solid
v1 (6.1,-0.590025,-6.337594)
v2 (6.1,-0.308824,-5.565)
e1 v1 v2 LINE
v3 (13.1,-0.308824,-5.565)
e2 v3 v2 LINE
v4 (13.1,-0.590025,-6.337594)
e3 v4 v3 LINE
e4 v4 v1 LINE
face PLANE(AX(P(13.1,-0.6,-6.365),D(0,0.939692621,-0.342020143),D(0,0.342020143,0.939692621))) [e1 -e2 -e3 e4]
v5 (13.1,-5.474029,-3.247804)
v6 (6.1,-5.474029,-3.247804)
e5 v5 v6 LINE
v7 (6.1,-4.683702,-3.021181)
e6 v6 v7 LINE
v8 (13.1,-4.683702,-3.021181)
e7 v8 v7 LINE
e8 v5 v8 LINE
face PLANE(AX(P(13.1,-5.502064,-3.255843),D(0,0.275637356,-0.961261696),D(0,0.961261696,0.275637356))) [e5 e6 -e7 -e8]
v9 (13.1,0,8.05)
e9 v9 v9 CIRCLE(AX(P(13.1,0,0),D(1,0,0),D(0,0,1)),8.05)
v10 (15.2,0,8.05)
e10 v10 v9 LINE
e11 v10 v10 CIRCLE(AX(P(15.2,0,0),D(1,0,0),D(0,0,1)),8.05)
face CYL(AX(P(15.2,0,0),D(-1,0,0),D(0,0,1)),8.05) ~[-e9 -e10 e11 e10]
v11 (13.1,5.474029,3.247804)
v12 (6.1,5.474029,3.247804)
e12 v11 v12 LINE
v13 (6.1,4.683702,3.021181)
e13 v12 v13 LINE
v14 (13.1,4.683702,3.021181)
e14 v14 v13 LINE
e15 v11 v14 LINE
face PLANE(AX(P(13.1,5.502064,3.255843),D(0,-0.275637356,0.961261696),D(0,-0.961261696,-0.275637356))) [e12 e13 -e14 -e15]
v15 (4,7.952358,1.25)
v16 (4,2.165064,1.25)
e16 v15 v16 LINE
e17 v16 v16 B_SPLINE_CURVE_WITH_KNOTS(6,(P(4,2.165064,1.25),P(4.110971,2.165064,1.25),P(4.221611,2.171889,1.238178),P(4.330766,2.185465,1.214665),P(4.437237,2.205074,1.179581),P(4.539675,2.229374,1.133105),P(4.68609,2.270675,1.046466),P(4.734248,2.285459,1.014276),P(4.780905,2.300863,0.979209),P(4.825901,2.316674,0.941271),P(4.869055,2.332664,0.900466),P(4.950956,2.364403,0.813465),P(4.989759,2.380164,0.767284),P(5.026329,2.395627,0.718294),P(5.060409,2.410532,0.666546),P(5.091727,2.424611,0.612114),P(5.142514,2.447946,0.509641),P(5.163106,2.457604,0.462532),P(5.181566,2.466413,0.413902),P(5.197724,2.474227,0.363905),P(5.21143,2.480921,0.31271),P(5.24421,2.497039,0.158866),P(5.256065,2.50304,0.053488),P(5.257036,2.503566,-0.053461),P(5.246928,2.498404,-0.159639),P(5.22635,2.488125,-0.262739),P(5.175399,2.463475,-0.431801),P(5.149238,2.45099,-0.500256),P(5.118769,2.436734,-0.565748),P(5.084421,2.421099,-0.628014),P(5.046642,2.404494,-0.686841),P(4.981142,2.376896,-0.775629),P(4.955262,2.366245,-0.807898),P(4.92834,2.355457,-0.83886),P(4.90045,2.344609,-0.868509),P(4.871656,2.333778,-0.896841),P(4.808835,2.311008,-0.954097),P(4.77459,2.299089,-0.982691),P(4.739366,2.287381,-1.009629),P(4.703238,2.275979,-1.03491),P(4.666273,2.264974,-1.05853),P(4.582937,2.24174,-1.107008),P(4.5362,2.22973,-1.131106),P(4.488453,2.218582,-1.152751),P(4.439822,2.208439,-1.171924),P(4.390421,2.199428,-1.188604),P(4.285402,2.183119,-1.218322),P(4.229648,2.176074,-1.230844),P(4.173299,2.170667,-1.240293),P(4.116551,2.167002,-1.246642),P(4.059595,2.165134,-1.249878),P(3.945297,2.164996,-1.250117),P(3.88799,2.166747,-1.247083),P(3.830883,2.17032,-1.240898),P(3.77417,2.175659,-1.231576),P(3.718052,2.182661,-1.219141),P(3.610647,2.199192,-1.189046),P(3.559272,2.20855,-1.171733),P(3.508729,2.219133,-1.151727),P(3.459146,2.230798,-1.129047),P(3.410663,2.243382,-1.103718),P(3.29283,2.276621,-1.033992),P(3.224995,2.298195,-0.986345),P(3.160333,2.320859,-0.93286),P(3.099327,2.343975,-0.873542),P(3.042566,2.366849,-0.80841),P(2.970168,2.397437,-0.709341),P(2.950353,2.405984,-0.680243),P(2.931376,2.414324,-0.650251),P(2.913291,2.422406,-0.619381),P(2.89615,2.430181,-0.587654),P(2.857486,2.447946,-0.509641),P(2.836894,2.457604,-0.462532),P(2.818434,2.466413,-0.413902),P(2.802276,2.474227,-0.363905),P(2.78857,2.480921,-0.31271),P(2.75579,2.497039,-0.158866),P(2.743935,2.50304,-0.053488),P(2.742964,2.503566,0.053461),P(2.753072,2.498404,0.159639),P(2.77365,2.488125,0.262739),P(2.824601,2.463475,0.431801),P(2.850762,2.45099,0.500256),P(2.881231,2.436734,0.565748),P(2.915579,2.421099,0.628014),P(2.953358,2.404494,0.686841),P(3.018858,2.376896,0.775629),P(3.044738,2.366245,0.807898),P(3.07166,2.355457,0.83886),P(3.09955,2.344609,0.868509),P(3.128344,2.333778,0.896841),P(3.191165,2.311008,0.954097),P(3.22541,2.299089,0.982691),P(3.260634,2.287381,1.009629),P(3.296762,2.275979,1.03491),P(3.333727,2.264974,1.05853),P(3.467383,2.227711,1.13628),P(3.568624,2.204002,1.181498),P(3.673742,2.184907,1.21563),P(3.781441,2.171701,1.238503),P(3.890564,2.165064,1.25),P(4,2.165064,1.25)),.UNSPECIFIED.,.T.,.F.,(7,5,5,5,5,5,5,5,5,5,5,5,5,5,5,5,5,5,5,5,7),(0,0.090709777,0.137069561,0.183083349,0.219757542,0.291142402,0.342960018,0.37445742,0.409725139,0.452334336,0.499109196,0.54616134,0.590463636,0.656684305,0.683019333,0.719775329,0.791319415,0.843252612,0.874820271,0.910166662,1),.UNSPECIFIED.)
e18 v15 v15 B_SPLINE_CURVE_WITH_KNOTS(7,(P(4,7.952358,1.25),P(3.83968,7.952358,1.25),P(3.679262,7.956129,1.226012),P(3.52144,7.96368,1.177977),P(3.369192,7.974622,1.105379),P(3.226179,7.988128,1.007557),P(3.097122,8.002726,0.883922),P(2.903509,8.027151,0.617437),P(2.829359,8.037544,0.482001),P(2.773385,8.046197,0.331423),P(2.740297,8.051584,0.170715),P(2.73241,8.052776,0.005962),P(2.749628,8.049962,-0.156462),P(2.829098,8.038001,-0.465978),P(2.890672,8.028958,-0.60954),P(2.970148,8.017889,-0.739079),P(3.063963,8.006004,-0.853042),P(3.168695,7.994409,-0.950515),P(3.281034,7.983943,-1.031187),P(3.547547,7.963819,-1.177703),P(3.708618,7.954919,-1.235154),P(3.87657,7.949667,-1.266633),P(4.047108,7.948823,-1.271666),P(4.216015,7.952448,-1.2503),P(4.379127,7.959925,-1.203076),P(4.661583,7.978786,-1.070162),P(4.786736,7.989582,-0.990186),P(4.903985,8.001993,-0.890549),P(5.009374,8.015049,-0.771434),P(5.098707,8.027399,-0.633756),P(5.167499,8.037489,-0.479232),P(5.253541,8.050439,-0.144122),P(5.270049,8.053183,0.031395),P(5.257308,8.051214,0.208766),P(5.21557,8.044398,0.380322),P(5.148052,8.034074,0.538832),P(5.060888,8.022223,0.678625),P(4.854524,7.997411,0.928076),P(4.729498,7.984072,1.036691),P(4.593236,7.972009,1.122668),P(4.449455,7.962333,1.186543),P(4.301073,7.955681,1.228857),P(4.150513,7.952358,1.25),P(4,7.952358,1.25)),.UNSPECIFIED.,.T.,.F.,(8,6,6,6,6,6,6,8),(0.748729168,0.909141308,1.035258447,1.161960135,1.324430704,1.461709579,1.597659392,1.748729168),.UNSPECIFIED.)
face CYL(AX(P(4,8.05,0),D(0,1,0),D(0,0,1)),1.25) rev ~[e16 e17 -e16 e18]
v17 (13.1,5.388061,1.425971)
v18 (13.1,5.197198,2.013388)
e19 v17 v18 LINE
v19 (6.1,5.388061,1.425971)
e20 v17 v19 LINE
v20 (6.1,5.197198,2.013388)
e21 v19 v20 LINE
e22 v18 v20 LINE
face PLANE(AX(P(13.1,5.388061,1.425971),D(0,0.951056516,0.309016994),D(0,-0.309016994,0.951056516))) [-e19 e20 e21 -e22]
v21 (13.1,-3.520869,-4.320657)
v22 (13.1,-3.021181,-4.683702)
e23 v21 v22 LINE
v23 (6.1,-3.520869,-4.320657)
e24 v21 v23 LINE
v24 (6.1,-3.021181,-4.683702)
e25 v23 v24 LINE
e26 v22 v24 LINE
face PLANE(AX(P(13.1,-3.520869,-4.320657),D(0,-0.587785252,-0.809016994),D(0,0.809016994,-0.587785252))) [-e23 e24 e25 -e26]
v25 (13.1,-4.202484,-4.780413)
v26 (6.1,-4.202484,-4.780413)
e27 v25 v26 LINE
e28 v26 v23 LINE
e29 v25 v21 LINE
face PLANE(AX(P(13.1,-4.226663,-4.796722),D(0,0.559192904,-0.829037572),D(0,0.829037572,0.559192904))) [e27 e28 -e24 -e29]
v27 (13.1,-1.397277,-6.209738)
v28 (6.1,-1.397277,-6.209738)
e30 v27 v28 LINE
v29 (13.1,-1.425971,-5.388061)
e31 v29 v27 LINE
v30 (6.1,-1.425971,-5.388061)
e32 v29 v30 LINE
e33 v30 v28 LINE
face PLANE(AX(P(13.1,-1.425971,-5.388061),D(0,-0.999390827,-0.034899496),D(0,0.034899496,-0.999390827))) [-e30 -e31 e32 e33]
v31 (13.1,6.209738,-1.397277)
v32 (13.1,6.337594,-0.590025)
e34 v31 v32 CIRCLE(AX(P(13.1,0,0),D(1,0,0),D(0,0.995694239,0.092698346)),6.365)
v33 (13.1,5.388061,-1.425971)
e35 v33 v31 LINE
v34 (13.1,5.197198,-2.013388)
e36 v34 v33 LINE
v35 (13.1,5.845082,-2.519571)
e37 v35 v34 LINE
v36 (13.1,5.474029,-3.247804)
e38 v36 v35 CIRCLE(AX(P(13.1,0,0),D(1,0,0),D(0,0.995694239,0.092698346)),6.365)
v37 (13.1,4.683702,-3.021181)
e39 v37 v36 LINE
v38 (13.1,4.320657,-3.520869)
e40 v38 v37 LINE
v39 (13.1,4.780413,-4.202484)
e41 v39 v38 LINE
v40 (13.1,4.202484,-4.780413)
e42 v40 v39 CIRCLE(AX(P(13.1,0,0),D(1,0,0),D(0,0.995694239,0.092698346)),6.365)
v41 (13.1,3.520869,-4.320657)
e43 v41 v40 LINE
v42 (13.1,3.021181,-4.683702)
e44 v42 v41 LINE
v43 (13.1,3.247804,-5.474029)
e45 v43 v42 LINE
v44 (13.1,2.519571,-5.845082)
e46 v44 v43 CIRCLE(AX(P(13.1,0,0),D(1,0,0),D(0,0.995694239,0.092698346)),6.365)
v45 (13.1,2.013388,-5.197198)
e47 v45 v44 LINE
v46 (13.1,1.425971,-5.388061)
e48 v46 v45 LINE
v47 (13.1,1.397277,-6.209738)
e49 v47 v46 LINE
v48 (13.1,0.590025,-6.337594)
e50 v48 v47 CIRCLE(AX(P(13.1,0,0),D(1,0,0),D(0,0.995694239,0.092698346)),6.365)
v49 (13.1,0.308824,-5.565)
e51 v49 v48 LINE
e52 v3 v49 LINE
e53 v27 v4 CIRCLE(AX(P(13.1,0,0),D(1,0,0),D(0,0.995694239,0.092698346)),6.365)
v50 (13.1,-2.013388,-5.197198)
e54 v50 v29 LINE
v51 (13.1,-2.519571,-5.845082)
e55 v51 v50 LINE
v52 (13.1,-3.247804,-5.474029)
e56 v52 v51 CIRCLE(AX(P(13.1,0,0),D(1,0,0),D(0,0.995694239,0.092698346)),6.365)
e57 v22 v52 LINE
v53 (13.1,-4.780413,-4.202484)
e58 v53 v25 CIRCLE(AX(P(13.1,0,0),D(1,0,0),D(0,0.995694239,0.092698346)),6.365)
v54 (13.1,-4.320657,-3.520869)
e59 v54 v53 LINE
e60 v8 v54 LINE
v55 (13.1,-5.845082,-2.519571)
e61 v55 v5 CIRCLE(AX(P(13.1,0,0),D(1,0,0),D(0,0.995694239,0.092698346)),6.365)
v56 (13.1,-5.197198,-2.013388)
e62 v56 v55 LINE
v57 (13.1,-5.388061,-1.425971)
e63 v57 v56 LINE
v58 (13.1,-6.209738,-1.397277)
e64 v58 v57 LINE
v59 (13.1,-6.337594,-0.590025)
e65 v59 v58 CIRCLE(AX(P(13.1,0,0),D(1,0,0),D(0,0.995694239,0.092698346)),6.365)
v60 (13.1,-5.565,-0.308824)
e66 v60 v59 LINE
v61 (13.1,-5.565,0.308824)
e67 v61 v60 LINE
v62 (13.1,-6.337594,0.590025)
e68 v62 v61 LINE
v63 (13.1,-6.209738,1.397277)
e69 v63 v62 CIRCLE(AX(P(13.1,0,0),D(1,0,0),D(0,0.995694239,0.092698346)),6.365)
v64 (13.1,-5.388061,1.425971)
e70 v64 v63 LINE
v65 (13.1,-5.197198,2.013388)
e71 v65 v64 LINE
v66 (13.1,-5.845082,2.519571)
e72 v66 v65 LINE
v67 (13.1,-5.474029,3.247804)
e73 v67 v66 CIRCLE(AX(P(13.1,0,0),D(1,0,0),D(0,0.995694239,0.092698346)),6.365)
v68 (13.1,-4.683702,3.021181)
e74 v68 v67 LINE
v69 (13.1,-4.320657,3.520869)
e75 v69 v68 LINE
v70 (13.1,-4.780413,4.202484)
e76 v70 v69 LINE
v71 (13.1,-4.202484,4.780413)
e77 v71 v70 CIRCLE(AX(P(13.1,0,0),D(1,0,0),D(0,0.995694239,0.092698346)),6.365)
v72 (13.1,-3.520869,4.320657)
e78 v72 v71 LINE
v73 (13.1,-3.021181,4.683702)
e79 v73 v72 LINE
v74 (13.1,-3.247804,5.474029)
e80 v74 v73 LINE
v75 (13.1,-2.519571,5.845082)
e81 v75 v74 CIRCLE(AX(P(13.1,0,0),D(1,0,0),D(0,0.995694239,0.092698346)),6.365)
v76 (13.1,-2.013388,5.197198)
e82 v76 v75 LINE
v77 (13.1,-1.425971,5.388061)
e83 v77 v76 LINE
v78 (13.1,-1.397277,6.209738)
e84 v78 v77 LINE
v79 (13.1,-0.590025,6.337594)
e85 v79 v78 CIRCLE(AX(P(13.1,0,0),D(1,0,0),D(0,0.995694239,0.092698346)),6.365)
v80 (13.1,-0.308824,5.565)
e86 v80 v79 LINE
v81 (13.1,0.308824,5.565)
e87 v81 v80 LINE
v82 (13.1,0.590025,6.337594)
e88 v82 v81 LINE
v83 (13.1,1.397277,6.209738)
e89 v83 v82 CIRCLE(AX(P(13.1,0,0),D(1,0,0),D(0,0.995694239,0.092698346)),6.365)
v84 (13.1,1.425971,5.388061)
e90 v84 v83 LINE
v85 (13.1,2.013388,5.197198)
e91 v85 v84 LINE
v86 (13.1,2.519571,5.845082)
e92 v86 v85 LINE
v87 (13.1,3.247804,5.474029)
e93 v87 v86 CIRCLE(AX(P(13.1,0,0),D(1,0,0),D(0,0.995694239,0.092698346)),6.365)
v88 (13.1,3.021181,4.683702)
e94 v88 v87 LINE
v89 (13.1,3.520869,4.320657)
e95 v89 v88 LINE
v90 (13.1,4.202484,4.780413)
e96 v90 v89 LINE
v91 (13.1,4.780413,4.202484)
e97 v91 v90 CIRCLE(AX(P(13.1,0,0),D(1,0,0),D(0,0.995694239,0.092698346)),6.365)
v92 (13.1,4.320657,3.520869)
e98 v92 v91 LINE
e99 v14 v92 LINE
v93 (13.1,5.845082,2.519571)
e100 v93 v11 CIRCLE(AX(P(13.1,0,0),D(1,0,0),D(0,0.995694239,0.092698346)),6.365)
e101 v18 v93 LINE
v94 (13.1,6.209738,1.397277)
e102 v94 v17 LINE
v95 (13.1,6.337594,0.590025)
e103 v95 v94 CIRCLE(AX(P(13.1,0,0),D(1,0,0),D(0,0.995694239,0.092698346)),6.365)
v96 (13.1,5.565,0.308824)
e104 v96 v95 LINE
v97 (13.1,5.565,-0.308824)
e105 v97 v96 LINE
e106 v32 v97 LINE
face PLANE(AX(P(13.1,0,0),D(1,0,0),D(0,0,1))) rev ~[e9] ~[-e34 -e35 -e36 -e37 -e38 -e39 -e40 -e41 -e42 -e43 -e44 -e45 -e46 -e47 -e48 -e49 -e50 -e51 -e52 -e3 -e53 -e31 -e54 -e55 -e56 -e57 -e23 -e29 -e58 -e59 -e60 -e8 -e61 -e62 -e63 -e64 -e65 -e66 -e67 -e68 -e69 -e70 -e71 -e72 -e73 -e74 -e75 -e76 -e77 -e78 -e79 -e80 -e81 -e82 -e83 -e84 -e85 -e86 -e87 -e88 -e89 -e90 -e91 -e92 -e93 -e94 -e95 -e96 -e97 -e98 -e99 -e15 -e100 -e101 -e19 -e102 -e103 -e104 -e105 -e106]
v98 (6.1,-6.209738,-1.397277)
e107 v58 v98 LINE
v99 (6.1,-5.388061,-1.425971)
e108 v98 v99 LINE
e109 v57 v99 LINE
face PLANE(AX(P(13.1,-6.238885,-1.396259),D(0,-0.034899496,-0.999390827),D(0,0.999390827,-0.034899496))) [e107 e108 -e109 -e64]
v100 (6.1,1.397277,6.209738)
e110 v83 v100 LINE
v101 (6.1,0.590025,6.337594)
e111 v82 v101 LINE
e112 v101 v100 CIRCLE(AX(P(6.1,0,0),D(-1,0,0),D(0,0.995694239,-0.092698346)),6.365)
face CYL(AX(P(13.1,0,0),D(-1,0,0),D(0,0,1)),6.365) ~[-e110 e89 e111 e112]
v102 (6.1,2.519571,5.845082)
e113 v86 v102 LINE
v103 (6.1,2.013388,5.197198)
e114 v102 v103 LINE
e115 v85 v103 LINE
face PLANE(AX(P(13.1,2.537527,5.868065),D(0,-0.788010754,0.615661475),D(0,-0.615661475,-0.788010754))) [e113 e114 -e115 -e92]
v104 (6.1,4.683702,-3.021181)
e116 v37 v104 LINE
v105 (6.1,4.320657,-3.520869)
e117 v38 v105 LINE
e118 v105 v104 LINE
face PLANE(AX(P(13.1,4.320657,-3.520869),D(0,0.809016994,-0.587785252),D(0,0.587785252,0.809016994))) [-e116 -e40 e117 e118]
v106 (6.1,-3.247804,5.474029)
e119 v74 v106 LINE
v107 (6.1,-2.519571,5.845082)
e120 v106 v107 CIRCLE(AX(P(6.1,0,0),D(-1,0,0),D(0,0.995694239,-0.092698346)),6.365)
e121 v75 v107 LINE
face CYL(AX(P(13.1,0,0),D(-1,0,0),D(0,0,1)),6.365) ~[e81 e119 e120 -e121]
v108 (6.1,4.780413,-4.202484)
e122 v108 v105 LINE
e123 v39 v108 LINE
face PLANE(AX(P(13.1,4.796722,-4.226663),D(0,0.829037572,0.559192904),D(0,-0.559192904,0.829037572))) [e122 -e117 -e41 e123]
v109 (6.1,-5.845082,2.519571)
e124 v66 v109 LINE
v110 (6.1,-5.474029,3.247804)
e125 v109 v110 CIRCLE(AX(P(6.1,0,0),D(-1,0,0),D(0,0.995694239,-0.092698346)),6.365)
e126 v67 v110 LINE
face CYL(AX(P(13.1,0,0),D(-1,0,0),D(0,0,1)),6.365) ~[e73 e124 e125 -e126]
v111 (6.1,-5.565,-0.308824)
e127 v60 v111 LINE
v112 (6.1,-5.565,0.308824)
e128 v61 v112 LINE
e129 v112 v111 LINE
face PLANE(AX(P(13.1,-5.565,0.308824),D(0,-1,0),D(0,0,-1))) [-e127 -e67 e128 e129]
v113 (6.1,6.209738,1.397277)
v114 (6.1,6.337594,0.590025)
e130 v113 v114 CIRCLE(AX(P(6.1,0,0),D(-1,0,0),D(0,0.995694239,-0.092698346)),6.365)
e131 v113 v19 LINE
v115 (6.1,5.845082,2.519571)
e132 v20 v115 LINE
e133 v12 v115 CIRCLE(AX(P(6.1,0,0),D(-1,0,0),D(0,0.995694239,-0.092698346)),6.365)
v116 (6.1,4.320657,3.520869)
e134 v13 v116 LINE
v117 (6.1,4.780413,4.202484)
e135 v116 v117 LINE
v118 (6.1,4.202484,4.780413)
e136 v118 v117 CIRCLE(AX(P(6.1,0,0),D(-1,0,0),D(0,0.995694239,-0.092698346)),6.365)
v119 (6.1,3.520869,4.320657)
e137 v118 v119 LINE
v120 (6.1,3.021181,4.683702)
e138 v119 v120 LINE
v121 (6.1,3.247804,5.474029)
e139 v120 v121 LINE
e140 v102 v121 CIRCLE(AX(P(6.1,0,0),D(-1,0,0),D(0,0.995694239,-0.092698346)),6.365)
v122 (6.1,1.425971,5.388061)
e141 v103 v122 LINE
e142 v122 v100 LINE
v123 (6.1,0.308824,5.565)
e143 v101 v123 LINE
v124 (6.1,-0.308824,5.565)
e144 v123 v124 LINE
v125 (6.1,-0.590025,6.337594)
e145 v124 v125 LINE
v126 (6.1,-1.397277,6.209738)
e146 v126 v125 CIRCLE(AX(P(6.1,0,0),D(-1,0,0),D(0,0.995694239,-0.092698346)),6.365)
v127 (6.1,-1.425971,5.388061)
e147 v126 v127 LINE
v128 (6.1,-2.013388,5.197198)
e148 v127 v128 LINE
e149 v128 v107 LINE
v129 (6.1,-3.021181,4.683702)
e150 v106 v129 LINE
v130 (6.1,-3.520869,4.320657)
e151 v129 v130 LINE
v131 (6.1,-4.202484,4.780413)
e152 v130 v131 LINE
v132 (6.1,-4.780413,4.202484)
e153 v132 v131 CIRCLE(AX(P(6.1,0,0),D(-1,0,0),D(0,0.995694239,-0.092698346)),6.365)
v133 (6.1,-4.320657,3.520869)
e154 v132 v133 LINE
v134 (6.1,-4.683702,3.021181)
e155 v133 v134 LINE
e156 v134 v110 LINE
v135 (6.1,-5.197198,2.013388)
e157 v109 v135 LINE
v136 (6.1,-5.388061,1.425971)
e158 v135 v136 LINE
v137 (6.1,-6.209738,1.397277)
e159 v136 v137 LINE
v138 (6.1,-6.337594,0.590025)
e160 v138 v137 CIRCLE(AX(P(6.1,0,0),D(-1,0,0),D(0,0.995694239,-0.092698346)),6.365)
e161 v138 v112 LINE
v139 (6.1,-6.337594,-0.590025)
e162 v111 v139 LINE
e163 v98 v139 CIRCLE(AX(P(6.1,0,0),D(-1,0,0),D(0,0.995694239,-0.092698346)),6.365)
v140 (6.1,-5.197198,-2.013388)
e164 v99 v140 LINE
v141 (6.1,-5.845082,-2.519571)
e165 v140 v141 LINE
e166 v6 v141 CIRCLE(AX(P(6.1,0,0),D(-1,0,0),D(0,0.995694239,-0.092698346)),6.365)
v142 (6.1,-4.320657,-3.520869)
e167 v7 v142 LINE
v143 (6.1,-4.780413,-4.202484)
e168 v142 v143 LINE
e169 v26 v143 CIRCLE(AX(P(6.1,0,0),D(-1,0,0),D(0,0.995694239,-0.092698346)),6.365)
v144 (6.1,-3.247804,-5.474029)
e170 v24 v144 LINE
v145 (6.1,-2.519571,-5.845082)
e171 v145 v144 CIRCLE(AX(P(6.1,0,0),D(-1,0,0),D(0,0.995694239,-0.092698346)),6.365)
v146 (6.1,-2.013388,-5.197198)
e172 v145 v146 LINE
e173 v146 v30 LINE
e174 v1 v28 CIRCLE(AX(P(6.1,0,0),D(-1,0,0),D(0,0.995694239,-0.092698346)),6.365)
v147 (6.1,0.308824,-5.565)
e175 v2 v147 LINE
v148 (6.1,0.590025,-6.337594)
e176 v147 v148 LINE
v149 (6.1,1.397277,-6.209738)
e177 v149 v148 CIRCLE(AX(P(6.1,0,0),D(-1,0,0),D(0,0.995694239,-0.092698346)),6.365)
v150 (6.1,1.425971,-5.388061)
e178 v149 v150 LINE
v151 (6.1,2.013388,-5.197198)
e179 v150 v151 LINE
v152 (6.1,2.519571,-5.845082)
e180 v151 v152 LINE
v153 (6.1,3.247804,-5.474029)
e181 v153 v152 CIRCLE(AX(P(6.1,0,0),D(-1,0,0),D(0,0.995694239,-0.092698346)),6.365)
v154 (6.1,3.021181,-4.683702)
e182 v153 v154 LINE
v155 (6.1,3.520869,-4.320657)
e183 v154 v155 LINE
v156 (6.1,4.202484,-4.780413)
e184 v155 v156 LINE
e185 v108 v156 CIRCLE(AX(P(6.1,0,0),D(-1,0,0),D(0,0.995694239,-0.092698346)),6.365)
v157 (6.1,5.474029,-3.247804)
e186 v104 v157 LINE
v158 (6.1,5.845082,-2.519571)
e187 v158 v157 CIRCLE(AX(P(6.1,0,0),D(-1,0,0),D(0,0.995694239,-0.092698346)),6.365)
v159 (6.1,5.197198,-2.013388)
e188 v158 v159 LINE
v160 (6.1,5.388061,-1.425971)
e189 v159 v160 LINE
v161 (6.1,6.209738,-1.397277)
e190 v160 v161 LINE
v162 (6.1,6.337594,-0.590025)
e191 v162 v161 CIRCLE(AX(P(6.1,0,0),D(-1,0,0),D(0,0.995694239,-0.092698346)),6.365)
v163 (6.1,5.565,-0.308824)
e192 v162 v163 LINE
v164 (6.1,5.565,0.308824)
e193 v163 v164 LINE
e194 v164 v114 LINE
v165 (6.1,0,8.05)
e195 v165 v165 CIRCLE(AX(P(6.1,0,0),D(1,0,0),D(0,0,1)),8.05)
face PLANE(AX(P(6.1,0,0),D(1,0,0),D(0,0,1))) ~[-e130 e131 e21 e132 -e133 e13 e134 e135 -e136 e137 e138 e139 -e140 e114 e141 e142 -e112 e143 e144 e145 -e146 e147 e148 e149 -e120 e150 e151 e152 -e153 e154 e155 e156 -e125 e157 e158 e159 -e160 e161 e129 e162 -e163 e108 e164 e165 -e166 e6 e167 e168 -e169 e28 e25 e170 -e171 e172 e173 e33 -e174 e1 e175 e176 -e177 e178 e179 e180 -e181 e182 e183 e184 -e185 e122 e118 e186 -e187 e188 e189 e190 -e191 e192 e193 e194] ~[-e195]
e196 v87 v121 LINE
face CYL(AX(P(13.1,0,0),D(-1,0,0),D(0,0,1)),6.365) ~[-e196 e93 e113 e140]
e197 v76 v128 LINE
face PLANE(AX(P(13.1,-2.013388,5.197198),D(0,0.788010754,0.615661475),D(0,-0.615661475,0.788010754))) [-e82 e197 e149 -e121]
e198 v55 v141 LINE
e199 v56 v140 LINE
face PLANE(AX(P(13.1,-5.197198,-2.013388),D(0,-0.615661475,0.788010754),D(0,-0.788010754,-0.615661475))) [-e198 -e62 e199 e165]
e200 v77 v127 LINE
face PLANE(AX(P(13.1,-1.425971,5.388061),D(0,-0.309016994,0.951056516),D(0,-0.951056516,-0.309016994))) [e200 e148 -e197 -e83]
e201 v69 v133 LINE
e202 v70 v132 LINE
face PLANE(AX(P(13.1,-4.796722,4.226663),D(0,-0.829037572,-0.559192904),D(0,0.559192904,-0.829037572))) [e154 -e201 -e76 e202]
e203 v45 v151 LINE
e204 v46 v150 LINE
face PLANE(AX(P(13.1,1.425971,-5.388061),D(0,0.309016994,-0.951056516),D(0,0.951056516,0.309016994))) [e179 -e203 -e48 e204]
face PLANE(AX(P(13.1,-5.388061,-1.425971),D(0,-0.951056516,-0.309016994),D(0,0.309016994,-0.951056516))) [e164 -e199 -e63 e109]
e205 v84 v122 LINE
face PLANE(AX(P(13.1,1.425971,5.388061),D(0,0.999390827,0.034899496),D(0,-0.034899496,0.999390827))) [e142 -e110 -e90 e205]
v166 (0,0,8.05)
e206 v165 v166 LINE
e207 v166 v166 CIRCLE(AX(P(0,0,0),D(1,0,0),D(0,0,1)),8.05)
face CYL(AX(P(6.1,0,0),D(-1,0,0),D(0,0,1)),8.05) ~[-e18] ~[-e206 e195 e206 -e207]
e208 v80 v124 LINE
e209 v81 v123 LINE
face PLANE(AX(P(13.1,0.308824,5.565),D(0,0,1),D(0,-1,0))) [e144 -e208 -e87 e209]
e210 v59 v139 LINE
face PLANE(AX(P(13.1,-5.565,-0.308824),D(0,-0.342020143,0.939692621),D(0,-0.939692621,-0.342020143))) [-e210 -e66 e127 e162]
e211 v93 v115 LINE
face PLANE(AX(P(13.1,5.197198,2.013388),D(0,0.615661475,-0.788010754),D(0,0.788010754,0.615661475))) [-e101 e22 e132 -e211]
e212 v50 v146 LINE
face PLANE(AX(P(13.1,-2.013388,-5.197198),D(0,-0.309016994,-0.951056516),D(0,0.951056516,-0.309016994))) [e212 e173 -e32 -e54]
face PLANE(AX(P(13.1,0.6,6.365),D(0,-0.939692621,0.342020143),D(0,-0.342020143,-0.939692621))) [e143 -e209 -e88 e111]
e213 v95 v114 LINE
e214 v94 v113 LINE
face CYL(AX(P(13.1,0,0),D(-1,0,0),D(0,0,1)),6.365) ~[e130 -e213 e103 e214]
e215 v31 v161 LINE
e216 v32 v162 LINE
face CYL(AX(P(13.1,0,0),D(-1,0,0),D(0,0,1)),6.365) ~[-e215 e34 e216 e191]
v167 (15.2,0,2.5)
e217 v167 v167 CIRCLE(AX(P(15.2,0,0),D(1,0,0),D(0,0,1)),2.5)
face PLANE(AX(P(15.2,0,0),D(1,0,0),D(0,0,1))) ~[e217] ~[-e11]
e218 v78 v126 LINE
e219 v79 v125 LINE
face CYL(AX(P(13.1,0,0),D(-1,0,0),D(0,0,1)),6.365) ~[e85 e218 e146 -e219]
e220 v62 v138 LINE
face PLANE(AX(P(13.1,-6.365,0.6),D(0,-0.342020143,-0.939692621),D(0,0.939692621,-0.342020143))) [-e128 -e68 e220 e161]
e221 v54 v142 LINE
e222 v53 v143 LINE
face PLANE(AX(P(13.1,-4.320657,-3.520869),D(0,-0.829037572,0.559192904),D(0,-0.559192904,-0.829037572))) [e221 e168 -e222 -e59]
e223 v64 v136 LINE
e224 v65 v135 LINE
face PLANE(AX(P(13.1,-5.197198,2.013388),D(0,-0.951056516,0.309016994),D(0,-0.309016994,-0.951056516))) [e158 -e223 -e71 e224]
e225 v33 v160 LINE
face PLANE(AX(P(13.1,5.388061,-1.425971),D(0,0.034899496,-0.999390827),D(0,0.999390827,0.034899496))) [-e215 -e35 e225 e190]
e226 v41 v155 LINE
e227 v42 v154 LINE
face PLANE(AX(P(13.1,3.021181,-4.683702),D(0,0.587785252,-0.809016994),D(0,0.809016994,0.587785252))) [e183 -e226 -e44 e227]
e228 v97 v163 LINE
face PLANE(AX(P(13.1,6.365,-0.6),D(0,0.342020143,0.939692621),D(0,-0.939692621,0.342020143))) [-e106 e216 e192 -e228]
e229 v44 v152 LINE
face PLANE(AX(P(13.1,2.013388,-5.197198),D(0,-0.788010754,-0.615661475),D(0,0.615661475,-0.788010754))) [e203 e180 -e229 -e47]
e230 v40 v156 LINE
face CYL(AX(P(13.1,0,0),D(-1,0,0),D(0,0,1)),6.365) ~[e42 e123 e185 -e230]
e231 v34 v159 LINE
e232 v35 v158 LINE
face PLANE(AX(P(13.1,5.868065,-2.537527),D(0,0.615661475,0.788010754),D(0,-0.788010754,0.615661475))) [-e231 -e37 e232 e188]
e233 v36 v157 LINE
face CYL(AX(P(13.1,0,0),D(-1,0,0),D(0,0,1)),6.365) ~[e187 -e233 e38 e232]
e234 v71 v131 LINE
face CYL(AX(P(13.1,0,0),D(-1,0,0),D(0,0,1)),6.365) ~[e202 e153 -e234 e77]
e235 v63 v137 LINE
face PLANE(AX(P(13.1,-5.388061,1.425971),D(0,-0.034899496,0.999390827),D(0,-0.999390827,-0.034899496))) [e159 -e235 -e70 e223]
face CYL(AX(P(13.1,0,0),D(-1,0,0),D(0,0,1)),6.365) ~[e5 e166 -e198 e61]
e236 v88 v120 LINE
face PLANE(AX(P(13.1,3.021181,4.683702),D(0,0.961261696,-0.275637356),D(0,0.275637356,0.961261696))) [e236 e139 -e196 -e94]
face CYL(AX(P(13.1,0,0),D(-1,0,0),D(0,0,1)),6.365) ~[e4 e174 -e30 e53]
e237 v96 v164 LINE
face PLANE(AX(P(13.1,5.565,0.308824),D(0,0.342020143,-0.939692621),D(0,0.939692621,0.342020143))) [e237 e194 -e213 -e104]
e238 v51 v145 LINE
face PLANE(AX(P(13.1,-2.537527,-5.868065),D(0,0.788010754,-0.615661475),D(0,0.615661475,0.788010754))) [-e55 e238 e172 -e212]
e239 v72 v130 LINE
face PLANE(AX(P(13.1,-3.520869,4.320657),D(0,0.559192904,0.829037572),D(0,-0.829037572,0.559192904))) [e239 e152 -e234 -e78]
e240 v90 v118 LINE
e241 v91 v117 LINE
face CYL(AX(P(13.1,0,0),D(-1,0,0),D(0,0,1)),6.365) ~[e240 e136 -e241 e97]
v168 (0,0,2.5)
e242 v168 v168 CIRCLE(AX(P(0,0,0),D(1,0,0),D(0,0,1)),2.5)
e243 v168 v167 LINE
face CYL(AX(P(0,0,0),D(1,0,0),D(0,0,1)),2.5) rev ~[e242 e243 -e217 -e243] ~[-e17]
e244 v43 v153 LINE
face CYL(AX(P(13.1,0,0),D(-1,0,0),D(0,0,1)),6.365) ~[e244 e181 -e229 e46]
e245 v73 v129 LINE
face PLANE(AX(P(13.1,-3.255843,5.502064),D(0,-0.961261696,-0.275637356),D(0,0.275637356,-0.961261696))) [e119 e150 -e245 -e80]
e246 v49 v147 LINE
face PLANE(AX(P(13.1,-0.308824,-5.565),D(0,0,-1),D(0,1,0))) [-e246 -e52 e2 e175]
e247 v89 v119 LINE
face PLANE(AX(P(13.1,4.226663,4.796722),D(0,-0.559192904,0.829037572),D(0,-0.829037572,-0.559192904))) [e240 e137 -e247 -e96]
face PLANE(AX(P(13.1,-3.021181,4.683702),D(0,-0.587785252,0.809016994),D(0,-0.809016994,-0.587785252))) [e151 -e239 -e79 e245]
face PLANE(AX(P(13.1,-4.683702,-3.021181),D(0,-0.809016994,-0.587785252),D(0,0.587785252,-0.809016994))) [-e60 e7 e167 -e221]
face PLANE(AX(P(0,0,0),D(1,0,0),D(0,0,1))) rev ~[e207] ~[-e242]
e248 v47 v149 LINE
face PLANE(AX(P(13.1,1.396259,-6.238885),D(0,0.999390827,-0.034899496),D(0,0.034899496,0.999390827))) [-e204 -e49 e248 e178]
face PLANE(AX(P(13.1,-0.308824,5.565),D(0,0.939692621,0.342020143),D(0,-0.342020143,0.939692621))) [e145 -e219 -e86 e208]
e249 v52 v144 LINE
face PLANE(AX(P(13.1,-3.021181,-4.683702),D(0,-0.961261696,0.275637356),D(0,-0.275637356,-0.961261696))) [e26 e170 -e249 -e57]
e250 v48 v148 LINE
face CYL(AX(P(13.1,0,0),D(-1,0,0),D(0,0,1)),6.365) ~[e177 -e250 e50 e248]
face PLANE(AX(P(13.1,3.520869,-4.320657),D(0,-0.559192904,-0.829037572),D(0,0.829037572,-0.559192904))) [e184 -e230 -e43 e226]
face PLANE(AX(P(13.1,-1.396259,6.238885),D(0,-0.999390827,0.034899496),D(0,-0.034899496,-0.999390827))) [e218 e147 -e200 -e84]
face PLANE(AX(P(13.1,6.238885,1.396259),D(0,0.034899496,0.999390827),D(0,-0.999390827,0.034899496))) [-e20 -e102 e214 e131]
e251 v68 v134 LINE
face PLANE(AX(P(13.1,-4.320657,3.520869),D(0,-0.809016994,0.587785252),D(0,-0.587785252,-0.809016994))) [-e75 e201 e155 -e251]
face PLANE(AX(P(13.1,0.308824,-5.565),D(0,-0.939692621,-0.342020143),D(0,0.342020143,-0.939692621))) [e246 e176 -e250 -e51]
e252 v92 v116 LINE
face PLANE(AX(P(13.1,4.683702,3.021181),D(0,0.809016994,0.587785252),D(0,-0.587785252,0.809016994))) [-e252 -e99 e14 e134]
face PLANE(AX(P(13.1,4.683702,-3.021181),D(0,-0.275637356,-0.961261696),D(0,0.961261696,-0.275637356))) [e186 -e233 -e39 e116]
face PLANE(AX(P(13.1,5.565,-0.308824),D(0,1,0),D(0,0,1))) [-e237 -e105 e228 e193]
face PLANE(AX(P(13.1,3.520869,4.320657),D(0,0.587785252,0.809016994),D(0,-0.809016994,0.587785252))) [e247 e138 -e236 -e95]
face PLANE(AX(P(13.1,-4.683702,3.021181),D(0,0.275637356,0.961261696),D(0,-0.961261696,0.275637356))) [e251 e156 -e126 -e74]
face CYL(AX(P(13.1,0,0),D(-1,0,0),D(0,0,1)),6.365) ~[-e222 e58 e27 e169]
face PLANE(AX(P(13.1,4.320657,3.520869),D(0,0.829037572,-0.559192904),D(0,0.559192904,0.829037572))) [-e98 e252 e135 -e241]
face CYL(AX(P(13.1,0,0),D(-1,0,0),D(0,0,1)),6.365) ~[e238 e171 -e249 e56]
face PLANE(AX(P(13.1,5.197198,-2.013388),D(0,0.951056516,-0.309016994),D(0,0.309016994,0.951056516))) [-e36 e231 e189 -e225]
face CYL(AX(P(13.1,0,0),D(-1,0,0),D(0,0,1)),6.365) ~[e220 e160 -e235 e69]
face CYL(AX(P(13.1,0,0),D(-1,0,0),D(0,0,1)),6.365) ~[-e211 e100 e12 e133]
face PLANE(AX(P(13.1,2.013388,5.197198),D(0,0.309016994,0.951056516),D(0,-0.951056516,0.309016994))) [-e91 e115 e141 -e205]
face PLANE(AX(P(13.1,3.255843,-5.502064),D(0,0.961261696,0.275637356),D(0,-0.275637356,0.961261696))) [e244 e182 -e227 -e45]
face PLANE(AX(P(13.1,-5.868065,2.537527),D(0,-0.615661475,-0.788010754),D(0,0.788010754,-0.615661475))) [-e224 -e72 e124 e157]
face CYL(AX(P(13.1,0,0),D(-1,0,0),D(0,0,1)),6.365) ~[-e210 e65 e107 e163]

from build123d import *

# Parameters (mm, degrees)
M3_TAPPED_HOLE1_REACH  = 23.2
M3_TAPPED_HOLE1_BORE_R = 1.25
CUT_EXTRUDE1_DEPTH     = 7
CIRPATTERN1_COUNT      = 20


with BuildPart() as part:
    # Sketch1 → Revolve1 (revolve)
    with BuildSketch(Plane.XY, mode=Mode.PRIVATE) as revolve1_sk:
        Polygon((0, 2.5), (15.2, 2.5), (15.2, 8.05), (13.1, 8.05), (13.1, 6.365), (6.1, 6.365), (6.1, 8.05), (0, 8.05), align=None)
    revolve(revolve1_sk.sketch.rotate(Axis((0, 0, 0), (1, 0, 0)), 90), axis=Axis((0, 0, 0), (1, 0, 0)))

    # M3 Tapped Hole1 bore (on position points) → M3 Tapped Hole1 (cut, up to next)
    with BuildSketch(Plane(origin=(4, 8.05, 0), x_dir=(0, 0, 1), z_dir=(0, 1, 0)), mode=Mode.PRIVATE) as m3_tapped_hole1_sk1:
        Circle(M3_TAPPED_HOLE1_BORE_R)
    m3_tapped_hole1_tool1 = extrude(m3_tapped_hole1_sk1.sketch, amount=-M3_TAPPED_HOLE1_REACH, mode=Mode.PRIVATE) & part.part
    add(m3_tapped_hole1_tool1.solids().sort_by_distance((4, 8.05, 0))[0], mode=Mode.SUBTRACT)

    # Sketch3 → Cut-Extrude1 (cut)
    with BuildSketch(Plane.ZY.offset(-13.1)):
        Polygon((-0.6, 6.365), (-0.308823813, 5.565), (0.308823813, 5.565), (0.6, 6.365), align=None)
    cut_extrude1 = extrude(amount=CUT_EXTRUDE1_DEPTH, mode=Mode.SUBTRACT)

    # CirPattern1: Cut-Extrude1 ×20 about axis
    cirpattern1_axis = Axis((0, 0, 0), (1, 0, 0))
    for i in range(1, CIRPATTERN1_COUNT):
        add(cut_extrude1.rotate(cirpattern1_axis, i * 360 / CIRPATTERN1_COUNT), mode=Mode.SUBTRACT)


solid = part.part
